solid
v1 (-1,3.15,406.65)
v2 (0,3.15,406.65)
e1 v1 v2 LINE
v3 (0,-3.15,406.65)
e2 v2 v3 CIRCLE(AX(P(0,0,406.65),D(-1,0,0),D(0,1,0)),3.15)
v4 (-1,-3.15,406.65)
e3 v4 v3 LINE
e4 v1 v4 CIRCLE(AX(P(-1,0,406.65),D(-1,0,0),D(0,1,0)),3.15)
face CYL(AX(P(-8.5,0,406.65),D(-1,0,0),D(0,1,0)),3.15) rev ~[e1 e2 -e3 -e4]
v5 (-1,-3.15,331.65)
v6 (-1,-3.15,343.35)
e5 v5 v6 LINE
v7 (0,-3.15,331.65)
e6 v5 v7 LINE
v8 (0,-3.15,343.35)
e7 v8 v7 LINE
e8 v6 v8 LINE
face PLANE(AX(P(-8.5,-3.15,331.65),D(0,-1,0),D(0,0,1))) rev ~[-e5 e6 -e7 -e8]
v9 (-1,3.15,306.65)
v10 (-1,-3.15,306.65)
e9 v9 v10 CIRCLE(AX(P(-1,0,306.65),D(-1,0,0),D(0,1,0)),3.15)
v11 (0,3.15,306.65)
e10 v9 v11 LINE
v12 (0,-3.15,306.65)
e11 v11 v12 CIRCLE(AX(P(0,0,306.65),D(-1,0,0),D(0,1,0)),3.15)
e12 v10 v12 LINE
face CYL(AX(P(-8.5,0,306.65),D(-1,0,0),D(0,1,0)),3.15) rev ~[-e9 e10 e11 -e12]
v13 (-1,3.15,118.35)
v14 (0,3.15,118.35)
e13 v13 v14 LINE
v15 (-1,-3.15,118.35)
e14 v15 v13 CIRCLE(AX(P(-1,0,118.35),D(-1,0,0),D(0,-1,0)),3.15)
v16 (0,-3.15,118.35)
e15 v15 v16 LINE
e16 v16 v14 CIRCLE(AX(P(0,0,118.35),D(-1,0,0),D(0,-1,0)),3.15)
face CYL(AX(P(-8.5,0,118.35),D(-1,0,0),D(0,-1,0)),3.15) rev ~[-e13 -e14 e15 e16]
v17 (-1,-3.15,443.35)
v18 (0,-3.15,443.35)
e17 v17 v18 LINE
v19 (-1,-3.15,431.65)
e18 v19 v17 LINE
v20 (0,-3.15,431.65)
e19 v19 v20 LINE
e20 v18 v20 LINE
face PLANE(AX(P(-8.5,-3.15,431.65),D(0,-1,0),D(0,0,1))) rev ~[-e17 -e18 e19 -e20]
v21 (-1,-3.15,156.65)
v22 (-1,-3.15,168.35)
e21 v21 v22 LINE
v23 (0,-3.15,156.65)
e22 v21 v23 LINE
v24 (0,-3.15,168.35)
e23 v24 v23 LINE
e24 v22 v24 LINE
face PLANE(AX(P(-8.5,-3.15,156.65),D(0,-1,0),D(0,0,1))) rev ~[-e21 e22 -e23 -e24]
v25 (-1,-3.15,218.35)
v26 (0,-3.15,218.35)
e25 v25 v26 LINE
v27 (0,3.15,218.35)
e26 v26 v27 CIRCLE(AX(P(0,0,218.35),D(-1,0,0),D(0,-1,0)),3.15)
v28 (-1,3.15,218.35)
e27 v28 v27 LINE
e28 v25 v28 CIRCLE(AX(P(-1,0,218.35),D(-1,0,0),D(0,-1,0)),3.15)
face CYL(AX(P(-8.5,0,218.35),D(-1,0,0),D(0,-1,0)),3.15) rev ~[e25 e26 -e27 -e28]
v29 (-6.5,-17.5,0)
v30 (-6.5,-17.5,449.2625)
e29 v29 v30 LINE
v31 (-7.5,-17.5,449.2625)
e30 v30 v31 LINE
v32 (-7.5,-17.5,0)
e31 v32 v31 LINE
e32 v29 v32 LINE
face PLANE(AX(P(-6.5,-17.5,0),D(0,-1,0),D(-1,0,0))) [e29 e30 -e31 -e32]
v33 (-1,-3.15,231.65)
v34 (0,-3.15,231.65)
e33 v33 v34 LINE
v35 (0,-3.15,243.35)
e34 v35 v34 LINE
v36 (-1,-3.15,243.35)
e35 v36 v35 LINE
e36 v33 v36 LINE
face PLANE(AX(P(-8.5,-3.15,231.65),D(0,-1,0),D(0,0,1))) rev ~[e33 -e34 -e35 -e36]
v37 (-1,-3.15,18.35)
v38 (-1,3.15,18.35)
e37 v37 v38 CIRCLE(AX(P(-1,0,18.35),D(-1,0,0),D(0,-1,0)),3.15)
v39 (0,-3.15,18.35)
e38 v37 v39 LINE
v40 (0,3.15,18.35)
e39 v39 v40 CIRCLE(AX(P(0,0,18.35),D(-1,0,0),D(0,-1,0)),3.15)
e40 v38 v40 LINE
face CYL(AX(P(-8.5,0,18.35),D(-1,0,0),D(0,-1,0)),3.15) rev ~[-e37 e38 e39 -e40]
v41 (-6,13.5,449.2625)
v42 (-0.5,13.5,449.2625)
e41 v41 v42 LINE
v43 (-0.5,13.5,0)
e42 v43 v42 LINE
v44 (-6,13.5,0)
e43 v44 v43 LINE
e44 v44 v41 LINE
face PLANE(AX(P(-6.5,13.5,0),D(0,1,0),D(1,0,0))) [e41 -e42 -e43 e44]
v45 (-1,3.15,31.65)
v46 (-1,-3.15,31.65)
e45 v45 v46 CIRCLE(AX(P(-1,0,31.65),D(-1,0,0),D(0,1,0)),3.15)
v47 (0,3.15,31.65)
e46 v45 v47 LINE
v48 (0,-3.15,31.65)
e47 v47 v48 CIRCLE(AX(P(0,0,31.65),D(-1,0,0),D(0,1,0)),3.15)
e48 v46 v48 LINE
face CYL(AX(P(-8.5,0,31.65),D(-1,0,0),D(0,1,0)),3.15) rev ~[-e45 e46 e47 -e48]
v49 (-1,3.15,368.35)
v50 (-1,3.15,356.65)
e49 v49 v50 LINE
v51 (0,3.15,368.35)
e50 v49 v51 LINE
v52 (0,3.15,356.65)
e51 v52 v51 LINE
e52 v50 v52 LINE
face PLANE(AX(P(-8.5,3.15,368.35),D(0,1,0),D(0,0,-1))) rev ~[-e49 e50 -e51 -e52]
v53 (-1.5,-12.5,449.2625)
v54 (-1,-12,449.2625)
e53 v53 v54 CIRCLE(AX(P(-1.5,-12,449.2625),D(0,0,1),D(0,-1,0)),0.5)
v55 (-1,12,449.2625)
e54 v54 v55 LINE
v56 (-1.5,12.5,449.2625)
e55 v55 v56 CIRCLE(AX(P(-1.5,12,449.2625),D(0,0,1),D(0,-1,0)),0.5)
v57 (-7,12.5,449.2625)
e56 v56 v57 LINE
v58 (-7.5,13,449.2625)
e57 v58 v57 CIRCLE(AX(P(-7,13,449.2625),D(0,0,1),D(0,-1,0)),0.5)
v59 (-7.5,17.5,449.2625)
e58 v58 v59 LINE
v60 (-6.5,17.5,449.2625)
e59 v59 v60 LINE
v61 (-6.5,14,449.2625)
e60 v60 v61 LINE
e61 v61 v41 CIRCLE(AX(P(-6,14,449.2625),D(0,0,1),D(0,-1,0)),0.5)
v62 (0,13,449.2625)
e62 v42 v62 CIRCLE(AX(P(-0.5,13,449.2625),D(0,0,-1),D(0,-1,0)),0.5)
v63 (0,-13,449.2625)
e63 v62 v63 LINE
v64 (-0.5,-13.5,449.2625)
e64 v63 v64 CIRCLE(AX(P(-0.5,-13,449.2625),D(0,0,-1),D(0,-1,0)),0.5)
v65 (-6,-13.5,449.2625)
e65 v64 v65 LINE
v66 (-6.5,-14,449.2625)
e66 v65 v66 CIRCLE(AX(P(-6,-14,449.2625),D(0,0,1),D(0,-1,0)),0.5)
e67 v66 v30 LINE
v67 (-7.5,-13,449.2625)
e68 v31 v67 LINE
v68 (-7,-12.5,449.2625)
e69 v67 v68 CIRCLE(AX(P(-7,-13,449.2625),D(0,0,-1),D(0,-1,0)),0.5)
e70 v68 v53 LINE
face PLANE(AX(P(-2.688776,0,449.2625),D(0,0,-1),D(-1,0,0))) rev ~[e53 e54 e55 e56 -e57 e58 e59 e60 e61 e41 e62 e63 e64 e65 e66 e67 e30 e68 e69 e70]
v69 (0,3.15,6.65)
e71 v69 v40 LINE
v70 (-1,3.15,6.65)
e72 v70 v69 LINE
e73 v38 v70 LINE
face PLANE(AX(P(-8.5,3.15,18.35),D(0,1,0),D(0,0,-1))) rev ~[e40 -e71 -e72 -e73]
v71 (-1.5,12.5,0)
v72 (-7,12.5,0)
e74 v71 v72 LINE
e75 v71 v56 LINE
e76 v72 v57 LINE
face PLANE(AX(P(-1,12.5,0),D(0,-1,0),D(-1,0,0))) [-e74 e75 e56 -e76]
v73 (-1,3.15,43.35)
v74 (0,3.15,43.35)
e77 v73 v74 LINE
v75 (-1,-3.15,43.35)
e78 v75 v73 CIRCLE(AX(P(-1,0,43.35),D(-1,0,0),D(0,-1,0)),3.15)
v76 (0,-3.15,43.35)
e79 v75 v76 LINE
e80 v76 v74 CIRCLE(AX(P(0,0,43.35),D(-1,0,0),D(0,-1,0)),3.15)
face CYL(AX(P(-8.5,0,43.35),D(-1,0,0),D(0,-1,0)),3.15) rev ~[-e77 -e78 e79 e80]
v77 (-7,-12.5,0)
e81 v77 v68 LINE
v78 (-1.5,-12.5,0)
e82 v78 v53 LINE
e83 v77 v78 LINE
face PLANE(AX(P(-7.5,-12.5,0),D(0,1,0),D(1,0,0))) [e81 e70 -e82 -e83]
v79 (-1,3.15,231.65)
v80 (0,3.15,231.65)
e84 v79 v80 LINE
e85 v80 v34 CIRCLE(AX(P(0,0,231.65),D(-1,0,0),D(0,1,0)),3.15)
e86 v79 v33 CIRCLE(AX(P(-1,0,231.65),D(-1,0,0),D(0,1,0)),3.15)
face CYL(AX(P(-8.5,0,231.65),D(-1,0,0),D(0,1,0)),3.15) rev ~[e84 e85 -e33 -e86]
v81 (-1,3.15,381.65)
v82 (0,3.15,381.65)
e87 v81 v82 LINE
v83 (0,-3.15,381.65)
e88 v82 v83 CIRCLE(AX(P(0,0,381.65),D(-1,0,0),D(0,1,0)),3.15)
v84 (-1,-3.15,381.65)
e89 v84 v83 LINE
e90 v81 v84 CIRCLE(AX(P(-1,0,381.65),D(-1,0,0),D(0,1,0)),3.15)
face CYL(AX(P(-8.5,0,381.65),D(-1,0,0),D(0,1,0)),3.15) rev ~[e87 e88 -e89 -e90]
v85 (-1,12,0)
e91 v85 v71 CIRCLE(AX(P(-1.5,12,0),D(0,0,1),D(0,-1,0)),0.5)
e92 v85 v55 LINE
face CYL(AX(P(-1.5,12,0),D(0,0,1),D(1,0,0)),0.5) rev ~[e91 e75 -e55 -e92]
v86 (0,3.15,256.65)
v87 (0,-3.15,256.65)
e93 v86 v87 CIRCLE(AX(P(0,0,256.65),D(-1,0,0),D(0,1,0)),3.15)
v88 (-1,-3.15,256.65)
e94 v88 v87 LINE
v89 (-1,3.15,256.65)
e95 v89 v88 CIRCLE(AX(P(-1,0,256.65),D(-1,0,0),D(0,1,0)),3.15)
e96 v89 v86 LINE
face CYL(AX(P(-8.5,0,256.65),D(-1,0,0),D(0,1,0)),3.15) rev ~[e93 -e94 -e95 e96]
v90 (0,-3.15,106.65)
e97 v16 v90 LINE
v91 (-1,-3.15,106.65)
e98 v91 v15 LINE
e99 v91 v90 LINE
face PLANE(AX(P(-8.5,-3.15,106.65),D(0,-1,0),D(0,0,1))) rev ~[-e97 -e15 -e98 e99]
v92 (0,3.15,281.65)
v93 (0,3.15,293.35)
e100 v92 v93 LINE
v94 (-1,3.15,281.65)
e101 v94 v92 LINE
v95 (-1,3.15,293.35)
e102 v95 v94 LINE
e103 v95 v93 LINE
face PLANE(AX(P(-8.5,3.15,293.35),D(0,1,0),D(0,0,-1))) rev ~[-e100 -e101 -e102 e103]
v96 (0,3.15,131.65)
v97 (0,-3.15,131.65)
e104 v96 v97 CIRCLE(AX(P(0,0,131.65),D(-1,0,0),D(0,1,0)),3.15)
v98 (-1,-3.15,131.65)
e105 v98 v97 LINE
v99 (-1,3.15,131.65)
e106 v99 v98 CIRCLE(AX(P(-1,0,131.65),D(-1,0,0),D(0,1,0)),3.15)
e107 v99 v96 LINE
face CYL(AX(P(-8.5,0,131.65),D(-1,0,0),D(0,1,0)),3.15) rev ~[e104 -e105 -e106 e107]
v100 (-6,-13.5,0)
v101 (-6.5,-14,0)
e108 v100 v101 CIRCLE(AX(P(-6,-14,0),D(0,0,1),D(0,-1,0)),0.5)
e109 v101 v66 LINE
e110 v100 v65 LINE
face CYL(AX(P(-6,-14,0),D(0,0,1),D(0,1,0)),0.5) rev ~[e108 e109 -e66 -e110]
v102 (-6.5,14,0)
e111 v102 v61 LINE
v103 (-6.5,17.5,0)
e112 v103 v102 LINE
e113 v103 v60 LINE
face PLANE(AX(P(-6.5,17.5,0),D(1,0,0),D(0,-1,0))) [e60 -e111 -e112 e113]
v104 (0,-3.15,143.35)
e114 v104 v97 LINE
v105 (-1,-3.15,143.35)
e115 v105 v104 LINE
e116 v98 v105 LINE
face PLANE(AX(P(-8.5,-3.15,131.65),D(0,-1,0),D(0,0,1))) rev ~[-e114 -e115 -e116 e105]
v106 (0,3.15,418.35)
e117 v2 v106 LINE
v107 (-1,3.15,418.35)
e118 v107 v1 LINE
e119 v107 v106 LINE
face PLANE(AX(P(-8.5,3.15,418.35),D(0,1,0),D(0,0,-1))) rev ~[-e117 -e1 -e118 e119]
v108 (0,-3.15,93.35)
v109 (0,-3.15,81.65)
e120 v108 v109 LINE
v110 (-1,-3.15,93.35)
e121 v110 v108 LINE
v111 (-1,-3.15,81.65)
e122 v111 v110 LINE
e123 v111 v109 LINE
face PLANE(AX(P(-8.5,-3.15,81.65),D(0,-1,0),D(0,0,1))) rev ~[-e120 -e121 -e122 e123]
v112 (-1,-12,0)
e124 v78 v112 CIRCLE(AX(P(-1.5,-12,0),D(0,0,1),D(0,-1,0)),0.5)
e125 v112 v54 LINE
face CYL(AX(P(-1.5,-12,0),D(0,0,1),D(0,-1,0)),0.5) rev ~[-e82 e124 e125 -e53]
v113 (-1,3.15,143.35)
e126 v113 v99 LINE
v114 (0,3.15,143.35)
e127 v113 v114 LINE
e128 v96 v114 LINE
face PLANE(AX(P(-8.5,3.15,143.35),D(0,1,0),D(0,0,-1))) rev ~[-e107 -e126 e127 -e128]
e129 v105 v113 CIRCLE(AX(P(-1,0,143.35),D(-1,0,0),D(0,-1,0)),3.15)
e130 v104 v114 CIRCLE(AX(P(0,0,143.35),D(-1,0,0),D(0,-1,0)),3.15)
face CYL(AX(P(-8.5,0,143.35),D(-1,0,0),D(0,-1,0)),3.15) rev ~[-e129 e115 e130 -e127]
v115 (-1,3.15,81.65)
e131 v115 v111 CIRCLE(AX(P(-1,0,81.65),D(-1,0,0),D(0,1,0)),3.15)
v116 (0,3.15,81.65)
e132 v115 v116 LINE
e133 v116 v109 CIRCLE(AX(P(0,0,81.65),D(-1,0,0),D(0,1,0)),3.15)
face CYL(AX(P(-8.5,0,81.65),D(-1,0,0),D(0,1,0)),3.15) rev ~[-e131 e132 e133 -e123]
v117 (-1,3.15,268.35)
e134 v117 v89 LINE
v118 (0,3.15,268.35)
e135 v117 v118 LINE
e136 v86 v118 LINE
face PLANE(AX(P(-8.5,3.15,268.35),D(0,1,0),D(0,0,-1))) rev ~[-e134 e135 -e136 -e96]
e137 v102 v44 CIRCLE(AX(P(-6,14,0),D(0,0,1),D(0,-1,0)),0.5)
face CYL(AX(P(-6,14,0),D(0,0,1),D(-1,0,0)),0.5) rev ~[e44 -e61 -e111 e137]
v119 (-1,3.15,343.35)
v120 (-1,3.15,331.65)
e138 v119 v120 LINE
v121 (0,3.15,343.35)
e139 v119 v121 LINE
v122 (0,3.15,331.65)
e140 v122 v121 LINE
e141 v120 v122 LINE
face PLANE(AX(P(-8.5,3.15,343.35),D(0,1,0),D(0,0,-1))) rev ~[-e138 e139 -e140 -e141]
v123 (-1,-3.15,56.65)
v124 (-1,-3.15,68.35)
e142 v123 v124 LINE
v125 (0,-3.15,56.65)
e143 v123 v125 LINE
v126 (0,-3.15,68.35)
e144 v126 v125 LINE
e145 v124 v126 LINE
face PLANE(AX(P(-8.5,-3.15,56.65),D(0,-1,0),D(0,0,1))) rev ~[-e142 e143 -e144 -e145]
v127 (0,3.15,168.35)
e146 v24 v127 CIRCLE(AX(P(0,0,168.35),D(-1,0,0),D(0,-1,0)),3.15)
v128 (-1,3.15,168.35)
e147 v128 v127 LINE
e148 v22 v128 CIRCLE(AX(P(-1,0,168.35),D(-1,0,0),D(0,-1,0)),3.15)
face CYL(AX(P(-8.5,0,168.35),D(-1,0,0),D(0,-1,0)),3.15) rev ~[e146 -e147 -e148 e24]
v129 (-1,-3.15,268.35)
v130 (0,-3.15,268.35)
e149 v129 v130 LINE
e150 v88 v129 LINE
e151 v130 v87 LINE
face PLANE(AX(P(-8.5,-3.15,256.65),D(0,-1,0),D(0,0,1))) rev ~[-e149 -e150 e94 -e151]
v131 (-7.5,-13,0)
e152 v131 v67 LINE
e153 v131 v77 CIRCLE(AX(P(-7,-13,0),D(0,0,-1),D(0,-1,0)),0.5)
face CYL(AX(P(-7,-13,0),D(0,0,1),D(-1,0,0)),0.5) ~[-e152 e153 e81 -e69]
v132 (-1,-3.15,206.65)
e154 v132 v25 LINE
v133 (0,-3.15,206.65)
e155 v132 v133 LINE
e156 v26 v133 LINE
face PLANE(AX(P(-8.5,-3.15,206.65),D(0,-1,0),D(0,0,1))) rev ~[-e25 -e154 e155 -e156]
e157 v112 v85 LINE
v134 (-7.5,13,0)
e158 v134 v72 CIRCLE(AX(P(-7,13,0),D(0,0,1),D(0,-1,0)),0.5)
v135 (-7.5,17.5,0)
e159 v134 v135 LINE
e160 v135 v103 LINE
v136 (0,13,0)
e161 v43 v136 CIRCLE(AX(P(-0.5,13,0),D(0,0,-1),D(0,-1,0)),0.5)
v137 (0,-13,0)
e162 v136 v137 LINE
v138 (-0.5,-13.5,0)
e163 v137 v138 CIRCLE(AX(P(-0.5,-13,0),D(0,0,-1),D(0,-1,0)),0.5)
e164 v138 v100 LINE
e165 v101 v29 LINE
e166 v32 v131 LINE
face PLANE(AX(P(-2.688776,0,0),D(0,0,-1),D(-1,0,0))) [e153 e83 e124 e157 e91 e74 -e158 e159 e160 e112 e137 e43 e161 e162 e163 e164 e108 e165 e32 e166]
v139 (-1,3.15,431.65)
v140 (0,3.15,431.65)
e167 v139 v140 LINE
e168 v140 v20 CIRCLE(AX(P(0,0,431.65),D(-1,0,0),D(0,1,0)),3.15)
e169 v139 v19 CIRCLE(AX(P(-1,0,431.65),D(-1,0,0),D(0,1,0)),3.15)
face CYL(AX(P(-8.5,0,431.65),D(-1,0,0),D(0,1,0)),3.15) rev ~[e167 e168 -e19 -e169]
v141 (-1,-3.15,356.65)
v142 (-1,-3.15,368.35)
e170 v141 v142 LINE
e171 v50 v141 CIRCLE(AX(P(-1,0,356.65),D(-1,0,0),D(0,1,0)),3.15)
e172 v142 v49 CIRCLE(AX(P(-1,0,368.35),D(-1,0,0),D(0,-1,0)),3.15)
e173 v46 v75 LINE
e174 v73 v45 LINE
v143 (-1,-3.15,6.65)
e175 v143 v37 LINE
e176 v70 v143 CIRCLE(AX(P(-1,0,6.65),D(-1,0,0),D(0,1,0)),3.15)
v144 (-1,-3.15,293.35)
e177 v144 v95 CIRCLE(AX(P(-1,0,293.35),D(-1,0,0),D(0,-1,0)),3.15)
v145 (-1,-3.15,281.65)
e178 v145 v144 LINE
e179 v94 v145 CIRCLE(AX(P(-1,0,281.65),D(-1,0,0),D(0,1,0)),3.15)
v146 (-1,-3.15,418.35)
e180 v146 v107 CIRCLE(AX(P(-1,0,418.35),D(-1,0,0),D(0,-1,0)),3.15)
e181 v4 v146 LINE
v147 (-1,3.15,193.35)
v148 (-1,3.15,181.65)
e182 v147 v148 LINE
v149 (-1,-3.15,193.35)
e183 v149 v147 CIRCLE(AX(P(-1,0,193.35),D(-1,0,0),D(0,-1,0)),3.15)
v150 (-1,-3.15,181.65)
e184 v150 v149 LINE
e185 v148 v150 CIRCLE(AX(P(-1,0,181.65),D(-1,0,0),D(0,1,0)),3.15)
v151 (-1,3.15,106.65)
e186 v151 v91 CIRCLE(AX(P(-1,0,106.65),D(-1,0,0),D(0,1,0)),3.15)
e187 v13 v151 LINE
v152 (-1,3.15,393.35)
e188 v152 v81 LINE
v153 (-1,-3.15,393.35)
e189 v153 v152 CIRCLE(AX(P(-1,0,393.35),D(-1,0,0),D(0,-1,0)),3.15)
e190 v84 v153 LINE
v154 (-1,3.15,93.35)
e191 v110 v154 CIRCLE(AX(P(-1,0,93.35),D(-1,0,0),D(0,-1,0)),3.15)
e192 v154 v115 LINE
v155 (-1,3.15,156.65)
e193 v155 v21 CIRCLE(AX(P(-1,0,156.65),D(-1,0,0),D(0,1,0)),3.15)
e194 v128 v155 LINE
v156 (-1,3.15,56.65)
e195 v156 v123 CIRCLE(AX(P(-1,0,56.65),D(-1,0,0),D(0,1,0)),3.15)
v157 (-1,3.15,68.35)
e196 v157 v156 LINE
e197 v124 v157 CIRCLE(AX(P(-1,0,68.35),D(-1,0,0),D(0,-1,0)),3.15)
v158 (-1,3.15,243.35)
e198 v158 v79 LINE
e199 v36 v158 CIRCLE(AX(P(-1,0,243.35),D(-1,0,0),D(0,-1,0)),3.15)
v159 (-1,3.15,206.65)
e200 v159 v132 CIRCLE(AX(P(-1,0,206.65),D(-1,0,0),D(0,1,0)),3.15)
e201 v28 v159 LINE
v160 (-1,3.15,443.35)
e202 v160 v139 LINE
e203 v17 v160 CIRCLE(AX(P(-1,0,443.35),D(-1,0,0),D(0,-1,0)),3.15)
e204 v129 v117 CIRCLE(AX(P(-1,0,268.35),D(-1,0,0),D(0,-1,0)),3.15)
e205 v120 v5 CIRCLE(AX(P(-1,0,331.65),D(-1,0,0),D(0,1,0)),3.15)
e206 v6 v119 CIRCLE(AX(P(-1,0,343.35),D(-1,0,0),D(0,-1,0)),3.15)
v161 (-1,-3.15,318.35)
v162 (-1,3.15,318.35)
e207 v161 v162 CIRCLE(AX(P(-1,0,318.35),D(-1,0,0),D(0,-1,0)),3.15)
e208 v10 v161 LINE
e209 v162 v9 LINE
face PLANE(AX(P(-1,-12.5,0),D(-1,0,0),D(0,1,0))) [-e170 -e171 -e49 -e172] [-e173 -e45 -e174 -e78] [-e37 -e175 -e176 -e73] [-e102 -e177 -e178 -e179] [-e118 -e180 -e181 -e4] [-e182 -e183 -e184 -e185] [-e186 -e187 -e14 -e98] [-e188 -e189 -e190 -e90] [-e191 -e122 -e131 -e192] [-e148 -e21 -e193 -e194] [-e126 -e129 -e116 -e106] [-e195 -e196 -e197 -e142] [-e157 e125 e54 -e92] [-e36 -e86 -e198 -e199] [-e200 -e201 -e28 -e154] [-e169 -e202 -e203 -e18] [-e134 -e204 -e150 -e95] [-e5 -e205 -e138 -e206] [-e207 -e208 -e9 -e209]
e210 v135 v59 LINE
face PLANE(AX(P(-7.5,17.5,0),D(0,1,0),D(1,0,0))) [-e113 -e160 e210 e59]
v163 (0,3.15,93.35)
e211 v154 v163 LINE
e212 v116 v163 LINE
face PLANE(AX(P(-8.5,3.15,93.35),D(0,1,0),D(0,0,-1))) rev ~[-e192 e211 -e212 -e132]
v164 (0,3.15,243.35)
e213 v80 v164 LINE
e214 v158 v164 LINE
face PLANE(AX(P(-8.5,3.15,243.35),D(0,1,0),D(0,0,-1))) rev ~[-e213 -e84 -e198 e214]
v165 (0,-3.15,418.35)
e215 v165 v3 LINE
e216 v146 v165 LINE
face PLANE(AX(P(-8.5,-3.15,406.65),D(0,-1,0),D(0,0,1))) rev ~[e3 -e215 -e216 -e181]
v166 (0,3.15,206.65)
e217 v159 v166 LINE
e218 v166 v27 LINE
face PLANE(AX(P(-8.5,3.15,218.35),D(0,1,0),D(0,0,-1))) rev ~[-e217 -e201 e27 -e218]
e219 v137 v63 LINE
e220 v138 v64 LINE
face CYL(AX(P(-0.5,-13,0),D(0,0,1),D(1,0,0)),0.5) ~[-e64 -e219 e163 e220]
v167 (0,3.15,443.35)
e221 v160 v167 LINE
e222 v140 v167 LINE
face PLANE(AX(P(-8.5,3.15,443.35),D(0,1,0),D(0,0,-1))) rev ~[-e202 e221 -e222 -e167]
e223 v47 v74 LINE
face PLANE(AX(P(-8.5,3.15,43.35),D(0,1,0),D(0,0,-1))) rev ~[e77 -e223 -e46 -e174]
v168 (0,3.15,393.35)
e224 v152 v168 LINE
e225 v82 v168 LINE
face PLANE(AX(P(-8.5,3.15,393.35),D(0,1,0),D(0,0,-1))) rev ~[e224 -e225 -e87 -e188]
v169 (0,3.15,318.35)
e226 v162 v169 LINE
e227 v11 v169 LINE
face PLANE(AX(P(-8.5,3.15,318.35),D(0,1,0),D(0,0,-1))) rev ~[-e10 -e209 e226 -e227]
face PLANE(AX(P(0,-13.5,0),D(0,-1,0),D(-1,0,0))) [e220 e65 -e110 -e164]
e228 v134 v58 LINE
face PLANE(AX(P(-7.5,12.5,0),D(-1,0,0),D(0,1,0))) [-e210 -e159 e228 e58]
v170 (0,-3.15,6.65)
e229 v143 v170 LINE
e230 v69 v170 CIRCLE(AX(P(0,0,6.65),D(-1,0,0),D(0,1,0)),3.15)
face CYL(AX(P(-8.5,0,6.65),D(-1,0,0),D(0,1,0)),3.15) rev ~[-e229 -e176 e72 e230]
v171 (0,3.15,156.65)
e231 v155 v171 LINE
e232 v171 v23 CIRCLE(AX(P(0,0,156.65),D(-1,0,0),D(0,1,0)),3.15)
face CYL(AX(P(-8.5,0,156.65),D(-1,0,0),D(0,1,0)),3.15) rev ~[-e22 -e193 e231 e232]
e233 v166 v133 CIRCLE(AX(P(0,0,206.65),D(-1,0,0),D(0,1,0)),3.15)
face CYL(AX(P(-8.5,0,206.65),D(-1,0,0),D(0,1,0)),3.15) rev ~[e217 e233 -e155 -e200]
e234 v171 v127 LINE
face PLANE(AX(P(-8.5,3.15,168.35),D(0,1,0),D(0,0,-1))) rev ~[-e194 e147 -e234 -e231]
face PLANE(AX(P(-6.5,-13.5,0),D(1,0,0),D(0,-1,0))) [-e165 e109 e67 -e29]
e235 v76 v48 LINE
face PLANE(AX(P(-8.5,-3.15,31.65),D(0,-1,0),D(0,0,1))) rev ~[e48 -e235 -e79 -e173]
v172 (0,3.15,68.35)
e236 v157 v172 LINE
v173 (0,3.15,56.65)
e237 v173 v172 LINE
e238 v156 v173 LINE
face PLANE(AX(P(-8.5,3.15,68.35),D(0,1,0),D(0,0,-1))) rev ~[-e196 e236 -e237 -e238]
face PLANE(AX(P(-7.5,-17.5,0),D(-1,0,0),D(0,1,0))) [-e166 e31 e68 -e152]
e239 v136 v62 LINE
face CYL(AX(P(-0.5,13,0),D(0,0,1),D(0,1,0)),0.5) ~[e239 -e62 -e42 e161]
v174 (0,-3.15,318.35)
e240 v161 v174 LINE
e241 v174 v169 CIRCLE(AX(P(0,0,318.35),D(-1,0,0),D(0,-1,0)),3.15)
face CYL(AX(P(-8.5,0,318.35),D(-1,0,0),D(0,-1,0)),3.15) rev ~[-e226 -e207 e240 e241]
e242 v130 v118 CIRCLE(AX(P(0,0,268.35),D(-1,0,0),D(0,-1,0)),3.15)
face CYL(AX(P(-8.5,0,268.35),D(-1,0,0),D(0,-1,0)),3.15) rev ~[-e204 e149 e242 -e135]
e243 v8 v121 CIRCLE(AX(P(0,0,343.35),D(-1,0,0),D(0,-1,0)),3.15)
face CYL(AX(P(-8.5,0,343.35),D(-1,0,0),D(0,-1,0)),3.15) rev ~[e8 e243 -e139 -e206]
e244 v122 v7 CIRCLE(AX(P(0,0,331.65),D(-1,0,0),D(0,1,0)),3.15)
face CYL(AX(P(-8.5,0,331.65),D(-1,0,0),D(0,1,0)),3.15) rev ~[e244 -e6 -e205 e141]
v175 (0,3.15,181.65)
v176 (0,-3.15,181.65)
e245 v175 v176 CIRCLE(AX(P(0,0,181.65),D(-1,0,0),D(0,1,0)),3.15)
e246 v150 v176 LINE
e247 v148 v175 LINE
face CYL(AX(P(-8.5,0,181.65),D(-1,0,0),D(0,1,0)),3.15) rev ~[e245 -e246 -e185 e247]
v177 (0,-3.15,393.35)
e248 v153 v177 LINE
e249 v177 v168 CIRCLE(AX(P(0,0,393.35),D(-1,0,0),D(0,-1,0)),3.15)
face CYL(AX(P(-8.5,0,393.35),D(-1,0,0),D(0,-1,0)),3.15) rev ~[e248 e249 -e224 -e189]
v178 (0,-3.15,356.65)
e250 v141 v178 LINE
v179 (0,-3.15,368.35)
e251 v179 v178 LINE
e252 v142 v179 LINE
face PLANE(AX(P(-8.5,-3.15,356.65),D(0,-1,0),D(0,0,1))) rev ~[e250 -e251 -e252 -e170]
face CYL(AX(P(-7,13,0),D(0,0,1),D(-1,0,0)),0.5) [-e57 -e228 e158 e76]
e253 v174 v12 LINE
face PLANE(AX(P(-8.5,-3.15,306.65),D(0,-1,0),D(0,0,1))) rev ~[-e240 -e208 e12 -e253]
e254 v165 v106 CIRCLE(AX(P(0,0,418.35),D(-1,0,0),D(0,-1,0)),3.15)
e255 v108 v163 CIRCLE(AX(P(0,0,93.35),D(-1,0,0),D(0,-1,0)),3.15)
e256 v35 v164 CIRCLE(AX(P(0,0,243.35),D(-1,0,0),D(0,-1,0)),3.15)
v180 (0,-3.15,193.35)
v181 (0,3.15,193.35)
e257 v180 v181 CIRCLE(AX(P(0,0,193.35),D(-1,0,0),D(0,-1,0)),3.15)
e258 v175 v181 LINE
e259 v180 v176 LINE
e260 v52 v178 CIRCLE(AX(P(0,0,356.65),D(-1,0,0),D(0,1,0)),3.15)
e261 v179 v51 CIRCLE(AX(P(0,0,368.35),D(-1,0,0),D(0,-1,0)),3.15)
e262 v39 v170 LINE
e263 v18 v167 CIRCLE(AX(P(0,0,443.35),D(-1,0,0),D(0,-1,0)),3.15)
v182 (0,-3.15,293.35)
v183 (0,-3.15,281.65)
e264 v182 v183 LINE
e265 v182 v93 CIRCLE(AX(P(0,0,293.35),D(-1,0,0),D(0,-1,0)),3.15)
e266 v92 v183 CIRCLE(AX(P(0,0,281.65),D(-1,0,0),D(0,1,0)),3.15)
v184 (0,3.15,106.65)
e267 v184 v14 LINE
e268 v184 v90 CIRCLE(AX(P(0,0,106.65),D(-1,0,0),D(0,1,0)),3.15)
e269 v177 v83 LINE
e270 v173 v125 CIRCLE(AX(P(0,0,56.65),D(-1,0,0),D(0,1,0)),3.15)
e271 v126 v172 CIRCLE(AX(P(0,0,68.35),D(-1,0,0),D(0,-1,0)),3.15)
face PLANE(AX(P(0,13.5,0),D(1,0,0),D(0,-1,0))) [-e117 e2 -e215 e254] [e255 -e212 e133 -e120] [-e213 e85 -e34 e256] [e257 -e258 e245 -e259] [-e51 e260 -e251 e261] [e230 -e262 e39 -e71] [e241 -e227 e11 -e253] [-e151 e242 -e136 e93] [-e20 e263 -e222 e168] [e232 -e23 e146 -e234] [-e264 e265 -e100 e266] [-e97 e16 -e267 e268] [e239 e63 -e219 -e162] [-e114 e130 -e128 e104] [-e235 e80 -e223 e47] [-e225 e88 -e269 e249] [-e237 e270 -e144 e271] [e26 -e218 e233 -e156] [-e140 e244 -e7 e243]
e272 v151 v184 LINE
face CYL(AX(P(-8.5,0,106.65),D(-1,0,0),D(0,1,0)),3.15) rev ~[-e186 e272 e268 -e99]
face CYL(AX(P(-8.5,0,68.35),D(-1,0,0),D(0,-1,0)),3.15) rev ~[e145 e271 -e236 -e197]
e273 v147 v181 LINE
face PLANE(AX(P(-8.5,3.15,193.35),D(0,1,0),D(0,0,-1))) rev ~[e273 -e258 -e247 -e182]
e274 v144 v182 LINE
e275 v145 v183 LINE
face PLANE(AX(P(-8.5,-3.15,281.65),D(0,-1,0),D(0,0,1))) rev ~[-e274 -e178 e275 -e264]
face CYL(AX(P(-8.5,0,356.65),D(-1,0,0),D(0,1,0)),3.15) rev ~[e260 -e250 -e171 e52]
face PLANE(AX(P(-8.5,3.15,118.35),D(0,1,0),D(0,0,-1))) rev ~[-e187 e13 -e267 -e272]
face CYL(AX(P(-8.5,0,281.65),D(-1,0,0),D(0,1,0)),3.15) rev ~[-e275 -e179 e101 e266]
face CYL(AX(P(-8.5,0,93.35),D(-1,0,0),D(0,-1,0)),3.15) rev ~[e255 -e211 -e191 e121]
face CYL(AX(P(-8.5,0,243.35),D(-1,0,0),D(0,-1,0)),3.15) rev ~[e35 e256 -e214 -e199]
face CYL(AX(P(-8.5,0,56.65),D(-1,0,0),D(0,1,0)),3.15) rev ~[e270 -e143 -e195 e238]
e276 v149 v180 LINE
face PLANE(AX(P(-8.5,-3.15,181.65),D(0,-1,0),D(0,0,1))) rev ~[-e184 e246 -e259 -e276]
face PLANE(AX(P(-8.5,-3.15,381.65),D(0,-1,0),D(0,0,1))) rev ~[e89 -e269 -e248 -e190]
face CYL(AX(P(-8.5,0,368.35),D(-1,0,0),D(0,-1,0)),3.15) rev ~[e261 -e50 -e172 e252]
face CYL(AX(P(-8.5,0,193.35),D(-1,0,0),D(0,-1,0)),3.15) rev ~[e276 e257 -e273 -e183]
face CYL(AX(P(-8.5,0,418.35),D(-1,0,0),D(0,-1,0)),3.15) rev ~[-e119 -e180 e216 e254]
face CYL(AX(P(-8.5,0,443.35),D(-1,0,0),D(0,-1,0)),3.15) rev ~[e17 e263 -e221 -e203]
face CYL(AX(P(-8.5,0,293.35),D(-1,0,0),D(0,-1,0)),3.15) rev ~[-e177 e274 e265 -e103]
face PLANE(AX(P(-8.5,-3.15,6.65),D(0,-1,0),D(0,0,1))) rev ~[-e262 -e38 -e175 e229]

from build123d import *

# Parameters (mm, degrees)
EXTRUDE_THIN1_DEPTH = 449.2625
CUT_EXTRUDE1_START  = -8.5
CUT_EXTRUDE1_DEPTH  = 9.5
LPATTERN1_COUNT     = 18
LPATTERN1_PITCH     = 25
FILLET1_R           = 0.5


with BuildPart() as part:
    # Sketch3 → Extrude-Thin1 (new body)
    with BuildSketch(Plane.XY):
        Polygon((-6.5, 17.5), (-6.5, 13.5), (0, 13.5), (0, -13.5), (-6.5, -13.5), (-6.5, -17.5), (-7.5, -17.5), (-7.5, -12.5), (-1, -12.5), (-1, 12.5), (-7.5, 12.5), (-7.5, 17.5), align=None)
    extrude(amount=EXTRUDE_THIN1_DEPTH)

    # Sketch4 → Cut-Extrude1 (cut)
    with BuildSketch(Plane(origin=(0, 0, 0), x_dir=(0, 0, -1), z_dir=(1, 0, 0)).offset(CUT_EXTRUDE1_START)):
        with BuildLine():
            Line((-6.65, -3.15), (-18.35, -3.15))
            ThreePointArc((-18.35, -3.15), (-21.5, 0), (-18.35, 3.15))
            Line((-18.35, 3.15), (-6.65, 3.15))
            ThreePointArc((-6.65, 3.15), (-3.5, 0), (-6.65, -3.15))
        make_face()
    cut_extrude1 = extrude(amount=CUT_EXTRUDE1_DEPTH, mode=Mode.SUBTRACT)

    # LPattern1: Cut-Extrude1 ×18
    with Locations(*[(0, 0, i * LPATTERN1_PITCH) for i in range(1, LPATTERN1_COUNT)]):
        add(cut_extrude1, mode=Mode.SUBTRACT)

    # Fillet1
    fillet1_edges = [part.edges().sort_by_distance(p)[0] for p in [
        (-6.5, 13.5, 224.63125),
        (0, 13.5, 224.63125),
        (0, -13.5, 224.63125),
        (-6.5, -13.5, 224.63125),
        (-7.5, -12.5, 224.63125),
        (-1, -12.5, 224.63125),
        (-1, 12.5, 224.63125),
        (-7.5, 12.5, 224.63125),
    ]]
    fillet(fillet1_edges, radius=FILLET1_R)


solid = part.part
